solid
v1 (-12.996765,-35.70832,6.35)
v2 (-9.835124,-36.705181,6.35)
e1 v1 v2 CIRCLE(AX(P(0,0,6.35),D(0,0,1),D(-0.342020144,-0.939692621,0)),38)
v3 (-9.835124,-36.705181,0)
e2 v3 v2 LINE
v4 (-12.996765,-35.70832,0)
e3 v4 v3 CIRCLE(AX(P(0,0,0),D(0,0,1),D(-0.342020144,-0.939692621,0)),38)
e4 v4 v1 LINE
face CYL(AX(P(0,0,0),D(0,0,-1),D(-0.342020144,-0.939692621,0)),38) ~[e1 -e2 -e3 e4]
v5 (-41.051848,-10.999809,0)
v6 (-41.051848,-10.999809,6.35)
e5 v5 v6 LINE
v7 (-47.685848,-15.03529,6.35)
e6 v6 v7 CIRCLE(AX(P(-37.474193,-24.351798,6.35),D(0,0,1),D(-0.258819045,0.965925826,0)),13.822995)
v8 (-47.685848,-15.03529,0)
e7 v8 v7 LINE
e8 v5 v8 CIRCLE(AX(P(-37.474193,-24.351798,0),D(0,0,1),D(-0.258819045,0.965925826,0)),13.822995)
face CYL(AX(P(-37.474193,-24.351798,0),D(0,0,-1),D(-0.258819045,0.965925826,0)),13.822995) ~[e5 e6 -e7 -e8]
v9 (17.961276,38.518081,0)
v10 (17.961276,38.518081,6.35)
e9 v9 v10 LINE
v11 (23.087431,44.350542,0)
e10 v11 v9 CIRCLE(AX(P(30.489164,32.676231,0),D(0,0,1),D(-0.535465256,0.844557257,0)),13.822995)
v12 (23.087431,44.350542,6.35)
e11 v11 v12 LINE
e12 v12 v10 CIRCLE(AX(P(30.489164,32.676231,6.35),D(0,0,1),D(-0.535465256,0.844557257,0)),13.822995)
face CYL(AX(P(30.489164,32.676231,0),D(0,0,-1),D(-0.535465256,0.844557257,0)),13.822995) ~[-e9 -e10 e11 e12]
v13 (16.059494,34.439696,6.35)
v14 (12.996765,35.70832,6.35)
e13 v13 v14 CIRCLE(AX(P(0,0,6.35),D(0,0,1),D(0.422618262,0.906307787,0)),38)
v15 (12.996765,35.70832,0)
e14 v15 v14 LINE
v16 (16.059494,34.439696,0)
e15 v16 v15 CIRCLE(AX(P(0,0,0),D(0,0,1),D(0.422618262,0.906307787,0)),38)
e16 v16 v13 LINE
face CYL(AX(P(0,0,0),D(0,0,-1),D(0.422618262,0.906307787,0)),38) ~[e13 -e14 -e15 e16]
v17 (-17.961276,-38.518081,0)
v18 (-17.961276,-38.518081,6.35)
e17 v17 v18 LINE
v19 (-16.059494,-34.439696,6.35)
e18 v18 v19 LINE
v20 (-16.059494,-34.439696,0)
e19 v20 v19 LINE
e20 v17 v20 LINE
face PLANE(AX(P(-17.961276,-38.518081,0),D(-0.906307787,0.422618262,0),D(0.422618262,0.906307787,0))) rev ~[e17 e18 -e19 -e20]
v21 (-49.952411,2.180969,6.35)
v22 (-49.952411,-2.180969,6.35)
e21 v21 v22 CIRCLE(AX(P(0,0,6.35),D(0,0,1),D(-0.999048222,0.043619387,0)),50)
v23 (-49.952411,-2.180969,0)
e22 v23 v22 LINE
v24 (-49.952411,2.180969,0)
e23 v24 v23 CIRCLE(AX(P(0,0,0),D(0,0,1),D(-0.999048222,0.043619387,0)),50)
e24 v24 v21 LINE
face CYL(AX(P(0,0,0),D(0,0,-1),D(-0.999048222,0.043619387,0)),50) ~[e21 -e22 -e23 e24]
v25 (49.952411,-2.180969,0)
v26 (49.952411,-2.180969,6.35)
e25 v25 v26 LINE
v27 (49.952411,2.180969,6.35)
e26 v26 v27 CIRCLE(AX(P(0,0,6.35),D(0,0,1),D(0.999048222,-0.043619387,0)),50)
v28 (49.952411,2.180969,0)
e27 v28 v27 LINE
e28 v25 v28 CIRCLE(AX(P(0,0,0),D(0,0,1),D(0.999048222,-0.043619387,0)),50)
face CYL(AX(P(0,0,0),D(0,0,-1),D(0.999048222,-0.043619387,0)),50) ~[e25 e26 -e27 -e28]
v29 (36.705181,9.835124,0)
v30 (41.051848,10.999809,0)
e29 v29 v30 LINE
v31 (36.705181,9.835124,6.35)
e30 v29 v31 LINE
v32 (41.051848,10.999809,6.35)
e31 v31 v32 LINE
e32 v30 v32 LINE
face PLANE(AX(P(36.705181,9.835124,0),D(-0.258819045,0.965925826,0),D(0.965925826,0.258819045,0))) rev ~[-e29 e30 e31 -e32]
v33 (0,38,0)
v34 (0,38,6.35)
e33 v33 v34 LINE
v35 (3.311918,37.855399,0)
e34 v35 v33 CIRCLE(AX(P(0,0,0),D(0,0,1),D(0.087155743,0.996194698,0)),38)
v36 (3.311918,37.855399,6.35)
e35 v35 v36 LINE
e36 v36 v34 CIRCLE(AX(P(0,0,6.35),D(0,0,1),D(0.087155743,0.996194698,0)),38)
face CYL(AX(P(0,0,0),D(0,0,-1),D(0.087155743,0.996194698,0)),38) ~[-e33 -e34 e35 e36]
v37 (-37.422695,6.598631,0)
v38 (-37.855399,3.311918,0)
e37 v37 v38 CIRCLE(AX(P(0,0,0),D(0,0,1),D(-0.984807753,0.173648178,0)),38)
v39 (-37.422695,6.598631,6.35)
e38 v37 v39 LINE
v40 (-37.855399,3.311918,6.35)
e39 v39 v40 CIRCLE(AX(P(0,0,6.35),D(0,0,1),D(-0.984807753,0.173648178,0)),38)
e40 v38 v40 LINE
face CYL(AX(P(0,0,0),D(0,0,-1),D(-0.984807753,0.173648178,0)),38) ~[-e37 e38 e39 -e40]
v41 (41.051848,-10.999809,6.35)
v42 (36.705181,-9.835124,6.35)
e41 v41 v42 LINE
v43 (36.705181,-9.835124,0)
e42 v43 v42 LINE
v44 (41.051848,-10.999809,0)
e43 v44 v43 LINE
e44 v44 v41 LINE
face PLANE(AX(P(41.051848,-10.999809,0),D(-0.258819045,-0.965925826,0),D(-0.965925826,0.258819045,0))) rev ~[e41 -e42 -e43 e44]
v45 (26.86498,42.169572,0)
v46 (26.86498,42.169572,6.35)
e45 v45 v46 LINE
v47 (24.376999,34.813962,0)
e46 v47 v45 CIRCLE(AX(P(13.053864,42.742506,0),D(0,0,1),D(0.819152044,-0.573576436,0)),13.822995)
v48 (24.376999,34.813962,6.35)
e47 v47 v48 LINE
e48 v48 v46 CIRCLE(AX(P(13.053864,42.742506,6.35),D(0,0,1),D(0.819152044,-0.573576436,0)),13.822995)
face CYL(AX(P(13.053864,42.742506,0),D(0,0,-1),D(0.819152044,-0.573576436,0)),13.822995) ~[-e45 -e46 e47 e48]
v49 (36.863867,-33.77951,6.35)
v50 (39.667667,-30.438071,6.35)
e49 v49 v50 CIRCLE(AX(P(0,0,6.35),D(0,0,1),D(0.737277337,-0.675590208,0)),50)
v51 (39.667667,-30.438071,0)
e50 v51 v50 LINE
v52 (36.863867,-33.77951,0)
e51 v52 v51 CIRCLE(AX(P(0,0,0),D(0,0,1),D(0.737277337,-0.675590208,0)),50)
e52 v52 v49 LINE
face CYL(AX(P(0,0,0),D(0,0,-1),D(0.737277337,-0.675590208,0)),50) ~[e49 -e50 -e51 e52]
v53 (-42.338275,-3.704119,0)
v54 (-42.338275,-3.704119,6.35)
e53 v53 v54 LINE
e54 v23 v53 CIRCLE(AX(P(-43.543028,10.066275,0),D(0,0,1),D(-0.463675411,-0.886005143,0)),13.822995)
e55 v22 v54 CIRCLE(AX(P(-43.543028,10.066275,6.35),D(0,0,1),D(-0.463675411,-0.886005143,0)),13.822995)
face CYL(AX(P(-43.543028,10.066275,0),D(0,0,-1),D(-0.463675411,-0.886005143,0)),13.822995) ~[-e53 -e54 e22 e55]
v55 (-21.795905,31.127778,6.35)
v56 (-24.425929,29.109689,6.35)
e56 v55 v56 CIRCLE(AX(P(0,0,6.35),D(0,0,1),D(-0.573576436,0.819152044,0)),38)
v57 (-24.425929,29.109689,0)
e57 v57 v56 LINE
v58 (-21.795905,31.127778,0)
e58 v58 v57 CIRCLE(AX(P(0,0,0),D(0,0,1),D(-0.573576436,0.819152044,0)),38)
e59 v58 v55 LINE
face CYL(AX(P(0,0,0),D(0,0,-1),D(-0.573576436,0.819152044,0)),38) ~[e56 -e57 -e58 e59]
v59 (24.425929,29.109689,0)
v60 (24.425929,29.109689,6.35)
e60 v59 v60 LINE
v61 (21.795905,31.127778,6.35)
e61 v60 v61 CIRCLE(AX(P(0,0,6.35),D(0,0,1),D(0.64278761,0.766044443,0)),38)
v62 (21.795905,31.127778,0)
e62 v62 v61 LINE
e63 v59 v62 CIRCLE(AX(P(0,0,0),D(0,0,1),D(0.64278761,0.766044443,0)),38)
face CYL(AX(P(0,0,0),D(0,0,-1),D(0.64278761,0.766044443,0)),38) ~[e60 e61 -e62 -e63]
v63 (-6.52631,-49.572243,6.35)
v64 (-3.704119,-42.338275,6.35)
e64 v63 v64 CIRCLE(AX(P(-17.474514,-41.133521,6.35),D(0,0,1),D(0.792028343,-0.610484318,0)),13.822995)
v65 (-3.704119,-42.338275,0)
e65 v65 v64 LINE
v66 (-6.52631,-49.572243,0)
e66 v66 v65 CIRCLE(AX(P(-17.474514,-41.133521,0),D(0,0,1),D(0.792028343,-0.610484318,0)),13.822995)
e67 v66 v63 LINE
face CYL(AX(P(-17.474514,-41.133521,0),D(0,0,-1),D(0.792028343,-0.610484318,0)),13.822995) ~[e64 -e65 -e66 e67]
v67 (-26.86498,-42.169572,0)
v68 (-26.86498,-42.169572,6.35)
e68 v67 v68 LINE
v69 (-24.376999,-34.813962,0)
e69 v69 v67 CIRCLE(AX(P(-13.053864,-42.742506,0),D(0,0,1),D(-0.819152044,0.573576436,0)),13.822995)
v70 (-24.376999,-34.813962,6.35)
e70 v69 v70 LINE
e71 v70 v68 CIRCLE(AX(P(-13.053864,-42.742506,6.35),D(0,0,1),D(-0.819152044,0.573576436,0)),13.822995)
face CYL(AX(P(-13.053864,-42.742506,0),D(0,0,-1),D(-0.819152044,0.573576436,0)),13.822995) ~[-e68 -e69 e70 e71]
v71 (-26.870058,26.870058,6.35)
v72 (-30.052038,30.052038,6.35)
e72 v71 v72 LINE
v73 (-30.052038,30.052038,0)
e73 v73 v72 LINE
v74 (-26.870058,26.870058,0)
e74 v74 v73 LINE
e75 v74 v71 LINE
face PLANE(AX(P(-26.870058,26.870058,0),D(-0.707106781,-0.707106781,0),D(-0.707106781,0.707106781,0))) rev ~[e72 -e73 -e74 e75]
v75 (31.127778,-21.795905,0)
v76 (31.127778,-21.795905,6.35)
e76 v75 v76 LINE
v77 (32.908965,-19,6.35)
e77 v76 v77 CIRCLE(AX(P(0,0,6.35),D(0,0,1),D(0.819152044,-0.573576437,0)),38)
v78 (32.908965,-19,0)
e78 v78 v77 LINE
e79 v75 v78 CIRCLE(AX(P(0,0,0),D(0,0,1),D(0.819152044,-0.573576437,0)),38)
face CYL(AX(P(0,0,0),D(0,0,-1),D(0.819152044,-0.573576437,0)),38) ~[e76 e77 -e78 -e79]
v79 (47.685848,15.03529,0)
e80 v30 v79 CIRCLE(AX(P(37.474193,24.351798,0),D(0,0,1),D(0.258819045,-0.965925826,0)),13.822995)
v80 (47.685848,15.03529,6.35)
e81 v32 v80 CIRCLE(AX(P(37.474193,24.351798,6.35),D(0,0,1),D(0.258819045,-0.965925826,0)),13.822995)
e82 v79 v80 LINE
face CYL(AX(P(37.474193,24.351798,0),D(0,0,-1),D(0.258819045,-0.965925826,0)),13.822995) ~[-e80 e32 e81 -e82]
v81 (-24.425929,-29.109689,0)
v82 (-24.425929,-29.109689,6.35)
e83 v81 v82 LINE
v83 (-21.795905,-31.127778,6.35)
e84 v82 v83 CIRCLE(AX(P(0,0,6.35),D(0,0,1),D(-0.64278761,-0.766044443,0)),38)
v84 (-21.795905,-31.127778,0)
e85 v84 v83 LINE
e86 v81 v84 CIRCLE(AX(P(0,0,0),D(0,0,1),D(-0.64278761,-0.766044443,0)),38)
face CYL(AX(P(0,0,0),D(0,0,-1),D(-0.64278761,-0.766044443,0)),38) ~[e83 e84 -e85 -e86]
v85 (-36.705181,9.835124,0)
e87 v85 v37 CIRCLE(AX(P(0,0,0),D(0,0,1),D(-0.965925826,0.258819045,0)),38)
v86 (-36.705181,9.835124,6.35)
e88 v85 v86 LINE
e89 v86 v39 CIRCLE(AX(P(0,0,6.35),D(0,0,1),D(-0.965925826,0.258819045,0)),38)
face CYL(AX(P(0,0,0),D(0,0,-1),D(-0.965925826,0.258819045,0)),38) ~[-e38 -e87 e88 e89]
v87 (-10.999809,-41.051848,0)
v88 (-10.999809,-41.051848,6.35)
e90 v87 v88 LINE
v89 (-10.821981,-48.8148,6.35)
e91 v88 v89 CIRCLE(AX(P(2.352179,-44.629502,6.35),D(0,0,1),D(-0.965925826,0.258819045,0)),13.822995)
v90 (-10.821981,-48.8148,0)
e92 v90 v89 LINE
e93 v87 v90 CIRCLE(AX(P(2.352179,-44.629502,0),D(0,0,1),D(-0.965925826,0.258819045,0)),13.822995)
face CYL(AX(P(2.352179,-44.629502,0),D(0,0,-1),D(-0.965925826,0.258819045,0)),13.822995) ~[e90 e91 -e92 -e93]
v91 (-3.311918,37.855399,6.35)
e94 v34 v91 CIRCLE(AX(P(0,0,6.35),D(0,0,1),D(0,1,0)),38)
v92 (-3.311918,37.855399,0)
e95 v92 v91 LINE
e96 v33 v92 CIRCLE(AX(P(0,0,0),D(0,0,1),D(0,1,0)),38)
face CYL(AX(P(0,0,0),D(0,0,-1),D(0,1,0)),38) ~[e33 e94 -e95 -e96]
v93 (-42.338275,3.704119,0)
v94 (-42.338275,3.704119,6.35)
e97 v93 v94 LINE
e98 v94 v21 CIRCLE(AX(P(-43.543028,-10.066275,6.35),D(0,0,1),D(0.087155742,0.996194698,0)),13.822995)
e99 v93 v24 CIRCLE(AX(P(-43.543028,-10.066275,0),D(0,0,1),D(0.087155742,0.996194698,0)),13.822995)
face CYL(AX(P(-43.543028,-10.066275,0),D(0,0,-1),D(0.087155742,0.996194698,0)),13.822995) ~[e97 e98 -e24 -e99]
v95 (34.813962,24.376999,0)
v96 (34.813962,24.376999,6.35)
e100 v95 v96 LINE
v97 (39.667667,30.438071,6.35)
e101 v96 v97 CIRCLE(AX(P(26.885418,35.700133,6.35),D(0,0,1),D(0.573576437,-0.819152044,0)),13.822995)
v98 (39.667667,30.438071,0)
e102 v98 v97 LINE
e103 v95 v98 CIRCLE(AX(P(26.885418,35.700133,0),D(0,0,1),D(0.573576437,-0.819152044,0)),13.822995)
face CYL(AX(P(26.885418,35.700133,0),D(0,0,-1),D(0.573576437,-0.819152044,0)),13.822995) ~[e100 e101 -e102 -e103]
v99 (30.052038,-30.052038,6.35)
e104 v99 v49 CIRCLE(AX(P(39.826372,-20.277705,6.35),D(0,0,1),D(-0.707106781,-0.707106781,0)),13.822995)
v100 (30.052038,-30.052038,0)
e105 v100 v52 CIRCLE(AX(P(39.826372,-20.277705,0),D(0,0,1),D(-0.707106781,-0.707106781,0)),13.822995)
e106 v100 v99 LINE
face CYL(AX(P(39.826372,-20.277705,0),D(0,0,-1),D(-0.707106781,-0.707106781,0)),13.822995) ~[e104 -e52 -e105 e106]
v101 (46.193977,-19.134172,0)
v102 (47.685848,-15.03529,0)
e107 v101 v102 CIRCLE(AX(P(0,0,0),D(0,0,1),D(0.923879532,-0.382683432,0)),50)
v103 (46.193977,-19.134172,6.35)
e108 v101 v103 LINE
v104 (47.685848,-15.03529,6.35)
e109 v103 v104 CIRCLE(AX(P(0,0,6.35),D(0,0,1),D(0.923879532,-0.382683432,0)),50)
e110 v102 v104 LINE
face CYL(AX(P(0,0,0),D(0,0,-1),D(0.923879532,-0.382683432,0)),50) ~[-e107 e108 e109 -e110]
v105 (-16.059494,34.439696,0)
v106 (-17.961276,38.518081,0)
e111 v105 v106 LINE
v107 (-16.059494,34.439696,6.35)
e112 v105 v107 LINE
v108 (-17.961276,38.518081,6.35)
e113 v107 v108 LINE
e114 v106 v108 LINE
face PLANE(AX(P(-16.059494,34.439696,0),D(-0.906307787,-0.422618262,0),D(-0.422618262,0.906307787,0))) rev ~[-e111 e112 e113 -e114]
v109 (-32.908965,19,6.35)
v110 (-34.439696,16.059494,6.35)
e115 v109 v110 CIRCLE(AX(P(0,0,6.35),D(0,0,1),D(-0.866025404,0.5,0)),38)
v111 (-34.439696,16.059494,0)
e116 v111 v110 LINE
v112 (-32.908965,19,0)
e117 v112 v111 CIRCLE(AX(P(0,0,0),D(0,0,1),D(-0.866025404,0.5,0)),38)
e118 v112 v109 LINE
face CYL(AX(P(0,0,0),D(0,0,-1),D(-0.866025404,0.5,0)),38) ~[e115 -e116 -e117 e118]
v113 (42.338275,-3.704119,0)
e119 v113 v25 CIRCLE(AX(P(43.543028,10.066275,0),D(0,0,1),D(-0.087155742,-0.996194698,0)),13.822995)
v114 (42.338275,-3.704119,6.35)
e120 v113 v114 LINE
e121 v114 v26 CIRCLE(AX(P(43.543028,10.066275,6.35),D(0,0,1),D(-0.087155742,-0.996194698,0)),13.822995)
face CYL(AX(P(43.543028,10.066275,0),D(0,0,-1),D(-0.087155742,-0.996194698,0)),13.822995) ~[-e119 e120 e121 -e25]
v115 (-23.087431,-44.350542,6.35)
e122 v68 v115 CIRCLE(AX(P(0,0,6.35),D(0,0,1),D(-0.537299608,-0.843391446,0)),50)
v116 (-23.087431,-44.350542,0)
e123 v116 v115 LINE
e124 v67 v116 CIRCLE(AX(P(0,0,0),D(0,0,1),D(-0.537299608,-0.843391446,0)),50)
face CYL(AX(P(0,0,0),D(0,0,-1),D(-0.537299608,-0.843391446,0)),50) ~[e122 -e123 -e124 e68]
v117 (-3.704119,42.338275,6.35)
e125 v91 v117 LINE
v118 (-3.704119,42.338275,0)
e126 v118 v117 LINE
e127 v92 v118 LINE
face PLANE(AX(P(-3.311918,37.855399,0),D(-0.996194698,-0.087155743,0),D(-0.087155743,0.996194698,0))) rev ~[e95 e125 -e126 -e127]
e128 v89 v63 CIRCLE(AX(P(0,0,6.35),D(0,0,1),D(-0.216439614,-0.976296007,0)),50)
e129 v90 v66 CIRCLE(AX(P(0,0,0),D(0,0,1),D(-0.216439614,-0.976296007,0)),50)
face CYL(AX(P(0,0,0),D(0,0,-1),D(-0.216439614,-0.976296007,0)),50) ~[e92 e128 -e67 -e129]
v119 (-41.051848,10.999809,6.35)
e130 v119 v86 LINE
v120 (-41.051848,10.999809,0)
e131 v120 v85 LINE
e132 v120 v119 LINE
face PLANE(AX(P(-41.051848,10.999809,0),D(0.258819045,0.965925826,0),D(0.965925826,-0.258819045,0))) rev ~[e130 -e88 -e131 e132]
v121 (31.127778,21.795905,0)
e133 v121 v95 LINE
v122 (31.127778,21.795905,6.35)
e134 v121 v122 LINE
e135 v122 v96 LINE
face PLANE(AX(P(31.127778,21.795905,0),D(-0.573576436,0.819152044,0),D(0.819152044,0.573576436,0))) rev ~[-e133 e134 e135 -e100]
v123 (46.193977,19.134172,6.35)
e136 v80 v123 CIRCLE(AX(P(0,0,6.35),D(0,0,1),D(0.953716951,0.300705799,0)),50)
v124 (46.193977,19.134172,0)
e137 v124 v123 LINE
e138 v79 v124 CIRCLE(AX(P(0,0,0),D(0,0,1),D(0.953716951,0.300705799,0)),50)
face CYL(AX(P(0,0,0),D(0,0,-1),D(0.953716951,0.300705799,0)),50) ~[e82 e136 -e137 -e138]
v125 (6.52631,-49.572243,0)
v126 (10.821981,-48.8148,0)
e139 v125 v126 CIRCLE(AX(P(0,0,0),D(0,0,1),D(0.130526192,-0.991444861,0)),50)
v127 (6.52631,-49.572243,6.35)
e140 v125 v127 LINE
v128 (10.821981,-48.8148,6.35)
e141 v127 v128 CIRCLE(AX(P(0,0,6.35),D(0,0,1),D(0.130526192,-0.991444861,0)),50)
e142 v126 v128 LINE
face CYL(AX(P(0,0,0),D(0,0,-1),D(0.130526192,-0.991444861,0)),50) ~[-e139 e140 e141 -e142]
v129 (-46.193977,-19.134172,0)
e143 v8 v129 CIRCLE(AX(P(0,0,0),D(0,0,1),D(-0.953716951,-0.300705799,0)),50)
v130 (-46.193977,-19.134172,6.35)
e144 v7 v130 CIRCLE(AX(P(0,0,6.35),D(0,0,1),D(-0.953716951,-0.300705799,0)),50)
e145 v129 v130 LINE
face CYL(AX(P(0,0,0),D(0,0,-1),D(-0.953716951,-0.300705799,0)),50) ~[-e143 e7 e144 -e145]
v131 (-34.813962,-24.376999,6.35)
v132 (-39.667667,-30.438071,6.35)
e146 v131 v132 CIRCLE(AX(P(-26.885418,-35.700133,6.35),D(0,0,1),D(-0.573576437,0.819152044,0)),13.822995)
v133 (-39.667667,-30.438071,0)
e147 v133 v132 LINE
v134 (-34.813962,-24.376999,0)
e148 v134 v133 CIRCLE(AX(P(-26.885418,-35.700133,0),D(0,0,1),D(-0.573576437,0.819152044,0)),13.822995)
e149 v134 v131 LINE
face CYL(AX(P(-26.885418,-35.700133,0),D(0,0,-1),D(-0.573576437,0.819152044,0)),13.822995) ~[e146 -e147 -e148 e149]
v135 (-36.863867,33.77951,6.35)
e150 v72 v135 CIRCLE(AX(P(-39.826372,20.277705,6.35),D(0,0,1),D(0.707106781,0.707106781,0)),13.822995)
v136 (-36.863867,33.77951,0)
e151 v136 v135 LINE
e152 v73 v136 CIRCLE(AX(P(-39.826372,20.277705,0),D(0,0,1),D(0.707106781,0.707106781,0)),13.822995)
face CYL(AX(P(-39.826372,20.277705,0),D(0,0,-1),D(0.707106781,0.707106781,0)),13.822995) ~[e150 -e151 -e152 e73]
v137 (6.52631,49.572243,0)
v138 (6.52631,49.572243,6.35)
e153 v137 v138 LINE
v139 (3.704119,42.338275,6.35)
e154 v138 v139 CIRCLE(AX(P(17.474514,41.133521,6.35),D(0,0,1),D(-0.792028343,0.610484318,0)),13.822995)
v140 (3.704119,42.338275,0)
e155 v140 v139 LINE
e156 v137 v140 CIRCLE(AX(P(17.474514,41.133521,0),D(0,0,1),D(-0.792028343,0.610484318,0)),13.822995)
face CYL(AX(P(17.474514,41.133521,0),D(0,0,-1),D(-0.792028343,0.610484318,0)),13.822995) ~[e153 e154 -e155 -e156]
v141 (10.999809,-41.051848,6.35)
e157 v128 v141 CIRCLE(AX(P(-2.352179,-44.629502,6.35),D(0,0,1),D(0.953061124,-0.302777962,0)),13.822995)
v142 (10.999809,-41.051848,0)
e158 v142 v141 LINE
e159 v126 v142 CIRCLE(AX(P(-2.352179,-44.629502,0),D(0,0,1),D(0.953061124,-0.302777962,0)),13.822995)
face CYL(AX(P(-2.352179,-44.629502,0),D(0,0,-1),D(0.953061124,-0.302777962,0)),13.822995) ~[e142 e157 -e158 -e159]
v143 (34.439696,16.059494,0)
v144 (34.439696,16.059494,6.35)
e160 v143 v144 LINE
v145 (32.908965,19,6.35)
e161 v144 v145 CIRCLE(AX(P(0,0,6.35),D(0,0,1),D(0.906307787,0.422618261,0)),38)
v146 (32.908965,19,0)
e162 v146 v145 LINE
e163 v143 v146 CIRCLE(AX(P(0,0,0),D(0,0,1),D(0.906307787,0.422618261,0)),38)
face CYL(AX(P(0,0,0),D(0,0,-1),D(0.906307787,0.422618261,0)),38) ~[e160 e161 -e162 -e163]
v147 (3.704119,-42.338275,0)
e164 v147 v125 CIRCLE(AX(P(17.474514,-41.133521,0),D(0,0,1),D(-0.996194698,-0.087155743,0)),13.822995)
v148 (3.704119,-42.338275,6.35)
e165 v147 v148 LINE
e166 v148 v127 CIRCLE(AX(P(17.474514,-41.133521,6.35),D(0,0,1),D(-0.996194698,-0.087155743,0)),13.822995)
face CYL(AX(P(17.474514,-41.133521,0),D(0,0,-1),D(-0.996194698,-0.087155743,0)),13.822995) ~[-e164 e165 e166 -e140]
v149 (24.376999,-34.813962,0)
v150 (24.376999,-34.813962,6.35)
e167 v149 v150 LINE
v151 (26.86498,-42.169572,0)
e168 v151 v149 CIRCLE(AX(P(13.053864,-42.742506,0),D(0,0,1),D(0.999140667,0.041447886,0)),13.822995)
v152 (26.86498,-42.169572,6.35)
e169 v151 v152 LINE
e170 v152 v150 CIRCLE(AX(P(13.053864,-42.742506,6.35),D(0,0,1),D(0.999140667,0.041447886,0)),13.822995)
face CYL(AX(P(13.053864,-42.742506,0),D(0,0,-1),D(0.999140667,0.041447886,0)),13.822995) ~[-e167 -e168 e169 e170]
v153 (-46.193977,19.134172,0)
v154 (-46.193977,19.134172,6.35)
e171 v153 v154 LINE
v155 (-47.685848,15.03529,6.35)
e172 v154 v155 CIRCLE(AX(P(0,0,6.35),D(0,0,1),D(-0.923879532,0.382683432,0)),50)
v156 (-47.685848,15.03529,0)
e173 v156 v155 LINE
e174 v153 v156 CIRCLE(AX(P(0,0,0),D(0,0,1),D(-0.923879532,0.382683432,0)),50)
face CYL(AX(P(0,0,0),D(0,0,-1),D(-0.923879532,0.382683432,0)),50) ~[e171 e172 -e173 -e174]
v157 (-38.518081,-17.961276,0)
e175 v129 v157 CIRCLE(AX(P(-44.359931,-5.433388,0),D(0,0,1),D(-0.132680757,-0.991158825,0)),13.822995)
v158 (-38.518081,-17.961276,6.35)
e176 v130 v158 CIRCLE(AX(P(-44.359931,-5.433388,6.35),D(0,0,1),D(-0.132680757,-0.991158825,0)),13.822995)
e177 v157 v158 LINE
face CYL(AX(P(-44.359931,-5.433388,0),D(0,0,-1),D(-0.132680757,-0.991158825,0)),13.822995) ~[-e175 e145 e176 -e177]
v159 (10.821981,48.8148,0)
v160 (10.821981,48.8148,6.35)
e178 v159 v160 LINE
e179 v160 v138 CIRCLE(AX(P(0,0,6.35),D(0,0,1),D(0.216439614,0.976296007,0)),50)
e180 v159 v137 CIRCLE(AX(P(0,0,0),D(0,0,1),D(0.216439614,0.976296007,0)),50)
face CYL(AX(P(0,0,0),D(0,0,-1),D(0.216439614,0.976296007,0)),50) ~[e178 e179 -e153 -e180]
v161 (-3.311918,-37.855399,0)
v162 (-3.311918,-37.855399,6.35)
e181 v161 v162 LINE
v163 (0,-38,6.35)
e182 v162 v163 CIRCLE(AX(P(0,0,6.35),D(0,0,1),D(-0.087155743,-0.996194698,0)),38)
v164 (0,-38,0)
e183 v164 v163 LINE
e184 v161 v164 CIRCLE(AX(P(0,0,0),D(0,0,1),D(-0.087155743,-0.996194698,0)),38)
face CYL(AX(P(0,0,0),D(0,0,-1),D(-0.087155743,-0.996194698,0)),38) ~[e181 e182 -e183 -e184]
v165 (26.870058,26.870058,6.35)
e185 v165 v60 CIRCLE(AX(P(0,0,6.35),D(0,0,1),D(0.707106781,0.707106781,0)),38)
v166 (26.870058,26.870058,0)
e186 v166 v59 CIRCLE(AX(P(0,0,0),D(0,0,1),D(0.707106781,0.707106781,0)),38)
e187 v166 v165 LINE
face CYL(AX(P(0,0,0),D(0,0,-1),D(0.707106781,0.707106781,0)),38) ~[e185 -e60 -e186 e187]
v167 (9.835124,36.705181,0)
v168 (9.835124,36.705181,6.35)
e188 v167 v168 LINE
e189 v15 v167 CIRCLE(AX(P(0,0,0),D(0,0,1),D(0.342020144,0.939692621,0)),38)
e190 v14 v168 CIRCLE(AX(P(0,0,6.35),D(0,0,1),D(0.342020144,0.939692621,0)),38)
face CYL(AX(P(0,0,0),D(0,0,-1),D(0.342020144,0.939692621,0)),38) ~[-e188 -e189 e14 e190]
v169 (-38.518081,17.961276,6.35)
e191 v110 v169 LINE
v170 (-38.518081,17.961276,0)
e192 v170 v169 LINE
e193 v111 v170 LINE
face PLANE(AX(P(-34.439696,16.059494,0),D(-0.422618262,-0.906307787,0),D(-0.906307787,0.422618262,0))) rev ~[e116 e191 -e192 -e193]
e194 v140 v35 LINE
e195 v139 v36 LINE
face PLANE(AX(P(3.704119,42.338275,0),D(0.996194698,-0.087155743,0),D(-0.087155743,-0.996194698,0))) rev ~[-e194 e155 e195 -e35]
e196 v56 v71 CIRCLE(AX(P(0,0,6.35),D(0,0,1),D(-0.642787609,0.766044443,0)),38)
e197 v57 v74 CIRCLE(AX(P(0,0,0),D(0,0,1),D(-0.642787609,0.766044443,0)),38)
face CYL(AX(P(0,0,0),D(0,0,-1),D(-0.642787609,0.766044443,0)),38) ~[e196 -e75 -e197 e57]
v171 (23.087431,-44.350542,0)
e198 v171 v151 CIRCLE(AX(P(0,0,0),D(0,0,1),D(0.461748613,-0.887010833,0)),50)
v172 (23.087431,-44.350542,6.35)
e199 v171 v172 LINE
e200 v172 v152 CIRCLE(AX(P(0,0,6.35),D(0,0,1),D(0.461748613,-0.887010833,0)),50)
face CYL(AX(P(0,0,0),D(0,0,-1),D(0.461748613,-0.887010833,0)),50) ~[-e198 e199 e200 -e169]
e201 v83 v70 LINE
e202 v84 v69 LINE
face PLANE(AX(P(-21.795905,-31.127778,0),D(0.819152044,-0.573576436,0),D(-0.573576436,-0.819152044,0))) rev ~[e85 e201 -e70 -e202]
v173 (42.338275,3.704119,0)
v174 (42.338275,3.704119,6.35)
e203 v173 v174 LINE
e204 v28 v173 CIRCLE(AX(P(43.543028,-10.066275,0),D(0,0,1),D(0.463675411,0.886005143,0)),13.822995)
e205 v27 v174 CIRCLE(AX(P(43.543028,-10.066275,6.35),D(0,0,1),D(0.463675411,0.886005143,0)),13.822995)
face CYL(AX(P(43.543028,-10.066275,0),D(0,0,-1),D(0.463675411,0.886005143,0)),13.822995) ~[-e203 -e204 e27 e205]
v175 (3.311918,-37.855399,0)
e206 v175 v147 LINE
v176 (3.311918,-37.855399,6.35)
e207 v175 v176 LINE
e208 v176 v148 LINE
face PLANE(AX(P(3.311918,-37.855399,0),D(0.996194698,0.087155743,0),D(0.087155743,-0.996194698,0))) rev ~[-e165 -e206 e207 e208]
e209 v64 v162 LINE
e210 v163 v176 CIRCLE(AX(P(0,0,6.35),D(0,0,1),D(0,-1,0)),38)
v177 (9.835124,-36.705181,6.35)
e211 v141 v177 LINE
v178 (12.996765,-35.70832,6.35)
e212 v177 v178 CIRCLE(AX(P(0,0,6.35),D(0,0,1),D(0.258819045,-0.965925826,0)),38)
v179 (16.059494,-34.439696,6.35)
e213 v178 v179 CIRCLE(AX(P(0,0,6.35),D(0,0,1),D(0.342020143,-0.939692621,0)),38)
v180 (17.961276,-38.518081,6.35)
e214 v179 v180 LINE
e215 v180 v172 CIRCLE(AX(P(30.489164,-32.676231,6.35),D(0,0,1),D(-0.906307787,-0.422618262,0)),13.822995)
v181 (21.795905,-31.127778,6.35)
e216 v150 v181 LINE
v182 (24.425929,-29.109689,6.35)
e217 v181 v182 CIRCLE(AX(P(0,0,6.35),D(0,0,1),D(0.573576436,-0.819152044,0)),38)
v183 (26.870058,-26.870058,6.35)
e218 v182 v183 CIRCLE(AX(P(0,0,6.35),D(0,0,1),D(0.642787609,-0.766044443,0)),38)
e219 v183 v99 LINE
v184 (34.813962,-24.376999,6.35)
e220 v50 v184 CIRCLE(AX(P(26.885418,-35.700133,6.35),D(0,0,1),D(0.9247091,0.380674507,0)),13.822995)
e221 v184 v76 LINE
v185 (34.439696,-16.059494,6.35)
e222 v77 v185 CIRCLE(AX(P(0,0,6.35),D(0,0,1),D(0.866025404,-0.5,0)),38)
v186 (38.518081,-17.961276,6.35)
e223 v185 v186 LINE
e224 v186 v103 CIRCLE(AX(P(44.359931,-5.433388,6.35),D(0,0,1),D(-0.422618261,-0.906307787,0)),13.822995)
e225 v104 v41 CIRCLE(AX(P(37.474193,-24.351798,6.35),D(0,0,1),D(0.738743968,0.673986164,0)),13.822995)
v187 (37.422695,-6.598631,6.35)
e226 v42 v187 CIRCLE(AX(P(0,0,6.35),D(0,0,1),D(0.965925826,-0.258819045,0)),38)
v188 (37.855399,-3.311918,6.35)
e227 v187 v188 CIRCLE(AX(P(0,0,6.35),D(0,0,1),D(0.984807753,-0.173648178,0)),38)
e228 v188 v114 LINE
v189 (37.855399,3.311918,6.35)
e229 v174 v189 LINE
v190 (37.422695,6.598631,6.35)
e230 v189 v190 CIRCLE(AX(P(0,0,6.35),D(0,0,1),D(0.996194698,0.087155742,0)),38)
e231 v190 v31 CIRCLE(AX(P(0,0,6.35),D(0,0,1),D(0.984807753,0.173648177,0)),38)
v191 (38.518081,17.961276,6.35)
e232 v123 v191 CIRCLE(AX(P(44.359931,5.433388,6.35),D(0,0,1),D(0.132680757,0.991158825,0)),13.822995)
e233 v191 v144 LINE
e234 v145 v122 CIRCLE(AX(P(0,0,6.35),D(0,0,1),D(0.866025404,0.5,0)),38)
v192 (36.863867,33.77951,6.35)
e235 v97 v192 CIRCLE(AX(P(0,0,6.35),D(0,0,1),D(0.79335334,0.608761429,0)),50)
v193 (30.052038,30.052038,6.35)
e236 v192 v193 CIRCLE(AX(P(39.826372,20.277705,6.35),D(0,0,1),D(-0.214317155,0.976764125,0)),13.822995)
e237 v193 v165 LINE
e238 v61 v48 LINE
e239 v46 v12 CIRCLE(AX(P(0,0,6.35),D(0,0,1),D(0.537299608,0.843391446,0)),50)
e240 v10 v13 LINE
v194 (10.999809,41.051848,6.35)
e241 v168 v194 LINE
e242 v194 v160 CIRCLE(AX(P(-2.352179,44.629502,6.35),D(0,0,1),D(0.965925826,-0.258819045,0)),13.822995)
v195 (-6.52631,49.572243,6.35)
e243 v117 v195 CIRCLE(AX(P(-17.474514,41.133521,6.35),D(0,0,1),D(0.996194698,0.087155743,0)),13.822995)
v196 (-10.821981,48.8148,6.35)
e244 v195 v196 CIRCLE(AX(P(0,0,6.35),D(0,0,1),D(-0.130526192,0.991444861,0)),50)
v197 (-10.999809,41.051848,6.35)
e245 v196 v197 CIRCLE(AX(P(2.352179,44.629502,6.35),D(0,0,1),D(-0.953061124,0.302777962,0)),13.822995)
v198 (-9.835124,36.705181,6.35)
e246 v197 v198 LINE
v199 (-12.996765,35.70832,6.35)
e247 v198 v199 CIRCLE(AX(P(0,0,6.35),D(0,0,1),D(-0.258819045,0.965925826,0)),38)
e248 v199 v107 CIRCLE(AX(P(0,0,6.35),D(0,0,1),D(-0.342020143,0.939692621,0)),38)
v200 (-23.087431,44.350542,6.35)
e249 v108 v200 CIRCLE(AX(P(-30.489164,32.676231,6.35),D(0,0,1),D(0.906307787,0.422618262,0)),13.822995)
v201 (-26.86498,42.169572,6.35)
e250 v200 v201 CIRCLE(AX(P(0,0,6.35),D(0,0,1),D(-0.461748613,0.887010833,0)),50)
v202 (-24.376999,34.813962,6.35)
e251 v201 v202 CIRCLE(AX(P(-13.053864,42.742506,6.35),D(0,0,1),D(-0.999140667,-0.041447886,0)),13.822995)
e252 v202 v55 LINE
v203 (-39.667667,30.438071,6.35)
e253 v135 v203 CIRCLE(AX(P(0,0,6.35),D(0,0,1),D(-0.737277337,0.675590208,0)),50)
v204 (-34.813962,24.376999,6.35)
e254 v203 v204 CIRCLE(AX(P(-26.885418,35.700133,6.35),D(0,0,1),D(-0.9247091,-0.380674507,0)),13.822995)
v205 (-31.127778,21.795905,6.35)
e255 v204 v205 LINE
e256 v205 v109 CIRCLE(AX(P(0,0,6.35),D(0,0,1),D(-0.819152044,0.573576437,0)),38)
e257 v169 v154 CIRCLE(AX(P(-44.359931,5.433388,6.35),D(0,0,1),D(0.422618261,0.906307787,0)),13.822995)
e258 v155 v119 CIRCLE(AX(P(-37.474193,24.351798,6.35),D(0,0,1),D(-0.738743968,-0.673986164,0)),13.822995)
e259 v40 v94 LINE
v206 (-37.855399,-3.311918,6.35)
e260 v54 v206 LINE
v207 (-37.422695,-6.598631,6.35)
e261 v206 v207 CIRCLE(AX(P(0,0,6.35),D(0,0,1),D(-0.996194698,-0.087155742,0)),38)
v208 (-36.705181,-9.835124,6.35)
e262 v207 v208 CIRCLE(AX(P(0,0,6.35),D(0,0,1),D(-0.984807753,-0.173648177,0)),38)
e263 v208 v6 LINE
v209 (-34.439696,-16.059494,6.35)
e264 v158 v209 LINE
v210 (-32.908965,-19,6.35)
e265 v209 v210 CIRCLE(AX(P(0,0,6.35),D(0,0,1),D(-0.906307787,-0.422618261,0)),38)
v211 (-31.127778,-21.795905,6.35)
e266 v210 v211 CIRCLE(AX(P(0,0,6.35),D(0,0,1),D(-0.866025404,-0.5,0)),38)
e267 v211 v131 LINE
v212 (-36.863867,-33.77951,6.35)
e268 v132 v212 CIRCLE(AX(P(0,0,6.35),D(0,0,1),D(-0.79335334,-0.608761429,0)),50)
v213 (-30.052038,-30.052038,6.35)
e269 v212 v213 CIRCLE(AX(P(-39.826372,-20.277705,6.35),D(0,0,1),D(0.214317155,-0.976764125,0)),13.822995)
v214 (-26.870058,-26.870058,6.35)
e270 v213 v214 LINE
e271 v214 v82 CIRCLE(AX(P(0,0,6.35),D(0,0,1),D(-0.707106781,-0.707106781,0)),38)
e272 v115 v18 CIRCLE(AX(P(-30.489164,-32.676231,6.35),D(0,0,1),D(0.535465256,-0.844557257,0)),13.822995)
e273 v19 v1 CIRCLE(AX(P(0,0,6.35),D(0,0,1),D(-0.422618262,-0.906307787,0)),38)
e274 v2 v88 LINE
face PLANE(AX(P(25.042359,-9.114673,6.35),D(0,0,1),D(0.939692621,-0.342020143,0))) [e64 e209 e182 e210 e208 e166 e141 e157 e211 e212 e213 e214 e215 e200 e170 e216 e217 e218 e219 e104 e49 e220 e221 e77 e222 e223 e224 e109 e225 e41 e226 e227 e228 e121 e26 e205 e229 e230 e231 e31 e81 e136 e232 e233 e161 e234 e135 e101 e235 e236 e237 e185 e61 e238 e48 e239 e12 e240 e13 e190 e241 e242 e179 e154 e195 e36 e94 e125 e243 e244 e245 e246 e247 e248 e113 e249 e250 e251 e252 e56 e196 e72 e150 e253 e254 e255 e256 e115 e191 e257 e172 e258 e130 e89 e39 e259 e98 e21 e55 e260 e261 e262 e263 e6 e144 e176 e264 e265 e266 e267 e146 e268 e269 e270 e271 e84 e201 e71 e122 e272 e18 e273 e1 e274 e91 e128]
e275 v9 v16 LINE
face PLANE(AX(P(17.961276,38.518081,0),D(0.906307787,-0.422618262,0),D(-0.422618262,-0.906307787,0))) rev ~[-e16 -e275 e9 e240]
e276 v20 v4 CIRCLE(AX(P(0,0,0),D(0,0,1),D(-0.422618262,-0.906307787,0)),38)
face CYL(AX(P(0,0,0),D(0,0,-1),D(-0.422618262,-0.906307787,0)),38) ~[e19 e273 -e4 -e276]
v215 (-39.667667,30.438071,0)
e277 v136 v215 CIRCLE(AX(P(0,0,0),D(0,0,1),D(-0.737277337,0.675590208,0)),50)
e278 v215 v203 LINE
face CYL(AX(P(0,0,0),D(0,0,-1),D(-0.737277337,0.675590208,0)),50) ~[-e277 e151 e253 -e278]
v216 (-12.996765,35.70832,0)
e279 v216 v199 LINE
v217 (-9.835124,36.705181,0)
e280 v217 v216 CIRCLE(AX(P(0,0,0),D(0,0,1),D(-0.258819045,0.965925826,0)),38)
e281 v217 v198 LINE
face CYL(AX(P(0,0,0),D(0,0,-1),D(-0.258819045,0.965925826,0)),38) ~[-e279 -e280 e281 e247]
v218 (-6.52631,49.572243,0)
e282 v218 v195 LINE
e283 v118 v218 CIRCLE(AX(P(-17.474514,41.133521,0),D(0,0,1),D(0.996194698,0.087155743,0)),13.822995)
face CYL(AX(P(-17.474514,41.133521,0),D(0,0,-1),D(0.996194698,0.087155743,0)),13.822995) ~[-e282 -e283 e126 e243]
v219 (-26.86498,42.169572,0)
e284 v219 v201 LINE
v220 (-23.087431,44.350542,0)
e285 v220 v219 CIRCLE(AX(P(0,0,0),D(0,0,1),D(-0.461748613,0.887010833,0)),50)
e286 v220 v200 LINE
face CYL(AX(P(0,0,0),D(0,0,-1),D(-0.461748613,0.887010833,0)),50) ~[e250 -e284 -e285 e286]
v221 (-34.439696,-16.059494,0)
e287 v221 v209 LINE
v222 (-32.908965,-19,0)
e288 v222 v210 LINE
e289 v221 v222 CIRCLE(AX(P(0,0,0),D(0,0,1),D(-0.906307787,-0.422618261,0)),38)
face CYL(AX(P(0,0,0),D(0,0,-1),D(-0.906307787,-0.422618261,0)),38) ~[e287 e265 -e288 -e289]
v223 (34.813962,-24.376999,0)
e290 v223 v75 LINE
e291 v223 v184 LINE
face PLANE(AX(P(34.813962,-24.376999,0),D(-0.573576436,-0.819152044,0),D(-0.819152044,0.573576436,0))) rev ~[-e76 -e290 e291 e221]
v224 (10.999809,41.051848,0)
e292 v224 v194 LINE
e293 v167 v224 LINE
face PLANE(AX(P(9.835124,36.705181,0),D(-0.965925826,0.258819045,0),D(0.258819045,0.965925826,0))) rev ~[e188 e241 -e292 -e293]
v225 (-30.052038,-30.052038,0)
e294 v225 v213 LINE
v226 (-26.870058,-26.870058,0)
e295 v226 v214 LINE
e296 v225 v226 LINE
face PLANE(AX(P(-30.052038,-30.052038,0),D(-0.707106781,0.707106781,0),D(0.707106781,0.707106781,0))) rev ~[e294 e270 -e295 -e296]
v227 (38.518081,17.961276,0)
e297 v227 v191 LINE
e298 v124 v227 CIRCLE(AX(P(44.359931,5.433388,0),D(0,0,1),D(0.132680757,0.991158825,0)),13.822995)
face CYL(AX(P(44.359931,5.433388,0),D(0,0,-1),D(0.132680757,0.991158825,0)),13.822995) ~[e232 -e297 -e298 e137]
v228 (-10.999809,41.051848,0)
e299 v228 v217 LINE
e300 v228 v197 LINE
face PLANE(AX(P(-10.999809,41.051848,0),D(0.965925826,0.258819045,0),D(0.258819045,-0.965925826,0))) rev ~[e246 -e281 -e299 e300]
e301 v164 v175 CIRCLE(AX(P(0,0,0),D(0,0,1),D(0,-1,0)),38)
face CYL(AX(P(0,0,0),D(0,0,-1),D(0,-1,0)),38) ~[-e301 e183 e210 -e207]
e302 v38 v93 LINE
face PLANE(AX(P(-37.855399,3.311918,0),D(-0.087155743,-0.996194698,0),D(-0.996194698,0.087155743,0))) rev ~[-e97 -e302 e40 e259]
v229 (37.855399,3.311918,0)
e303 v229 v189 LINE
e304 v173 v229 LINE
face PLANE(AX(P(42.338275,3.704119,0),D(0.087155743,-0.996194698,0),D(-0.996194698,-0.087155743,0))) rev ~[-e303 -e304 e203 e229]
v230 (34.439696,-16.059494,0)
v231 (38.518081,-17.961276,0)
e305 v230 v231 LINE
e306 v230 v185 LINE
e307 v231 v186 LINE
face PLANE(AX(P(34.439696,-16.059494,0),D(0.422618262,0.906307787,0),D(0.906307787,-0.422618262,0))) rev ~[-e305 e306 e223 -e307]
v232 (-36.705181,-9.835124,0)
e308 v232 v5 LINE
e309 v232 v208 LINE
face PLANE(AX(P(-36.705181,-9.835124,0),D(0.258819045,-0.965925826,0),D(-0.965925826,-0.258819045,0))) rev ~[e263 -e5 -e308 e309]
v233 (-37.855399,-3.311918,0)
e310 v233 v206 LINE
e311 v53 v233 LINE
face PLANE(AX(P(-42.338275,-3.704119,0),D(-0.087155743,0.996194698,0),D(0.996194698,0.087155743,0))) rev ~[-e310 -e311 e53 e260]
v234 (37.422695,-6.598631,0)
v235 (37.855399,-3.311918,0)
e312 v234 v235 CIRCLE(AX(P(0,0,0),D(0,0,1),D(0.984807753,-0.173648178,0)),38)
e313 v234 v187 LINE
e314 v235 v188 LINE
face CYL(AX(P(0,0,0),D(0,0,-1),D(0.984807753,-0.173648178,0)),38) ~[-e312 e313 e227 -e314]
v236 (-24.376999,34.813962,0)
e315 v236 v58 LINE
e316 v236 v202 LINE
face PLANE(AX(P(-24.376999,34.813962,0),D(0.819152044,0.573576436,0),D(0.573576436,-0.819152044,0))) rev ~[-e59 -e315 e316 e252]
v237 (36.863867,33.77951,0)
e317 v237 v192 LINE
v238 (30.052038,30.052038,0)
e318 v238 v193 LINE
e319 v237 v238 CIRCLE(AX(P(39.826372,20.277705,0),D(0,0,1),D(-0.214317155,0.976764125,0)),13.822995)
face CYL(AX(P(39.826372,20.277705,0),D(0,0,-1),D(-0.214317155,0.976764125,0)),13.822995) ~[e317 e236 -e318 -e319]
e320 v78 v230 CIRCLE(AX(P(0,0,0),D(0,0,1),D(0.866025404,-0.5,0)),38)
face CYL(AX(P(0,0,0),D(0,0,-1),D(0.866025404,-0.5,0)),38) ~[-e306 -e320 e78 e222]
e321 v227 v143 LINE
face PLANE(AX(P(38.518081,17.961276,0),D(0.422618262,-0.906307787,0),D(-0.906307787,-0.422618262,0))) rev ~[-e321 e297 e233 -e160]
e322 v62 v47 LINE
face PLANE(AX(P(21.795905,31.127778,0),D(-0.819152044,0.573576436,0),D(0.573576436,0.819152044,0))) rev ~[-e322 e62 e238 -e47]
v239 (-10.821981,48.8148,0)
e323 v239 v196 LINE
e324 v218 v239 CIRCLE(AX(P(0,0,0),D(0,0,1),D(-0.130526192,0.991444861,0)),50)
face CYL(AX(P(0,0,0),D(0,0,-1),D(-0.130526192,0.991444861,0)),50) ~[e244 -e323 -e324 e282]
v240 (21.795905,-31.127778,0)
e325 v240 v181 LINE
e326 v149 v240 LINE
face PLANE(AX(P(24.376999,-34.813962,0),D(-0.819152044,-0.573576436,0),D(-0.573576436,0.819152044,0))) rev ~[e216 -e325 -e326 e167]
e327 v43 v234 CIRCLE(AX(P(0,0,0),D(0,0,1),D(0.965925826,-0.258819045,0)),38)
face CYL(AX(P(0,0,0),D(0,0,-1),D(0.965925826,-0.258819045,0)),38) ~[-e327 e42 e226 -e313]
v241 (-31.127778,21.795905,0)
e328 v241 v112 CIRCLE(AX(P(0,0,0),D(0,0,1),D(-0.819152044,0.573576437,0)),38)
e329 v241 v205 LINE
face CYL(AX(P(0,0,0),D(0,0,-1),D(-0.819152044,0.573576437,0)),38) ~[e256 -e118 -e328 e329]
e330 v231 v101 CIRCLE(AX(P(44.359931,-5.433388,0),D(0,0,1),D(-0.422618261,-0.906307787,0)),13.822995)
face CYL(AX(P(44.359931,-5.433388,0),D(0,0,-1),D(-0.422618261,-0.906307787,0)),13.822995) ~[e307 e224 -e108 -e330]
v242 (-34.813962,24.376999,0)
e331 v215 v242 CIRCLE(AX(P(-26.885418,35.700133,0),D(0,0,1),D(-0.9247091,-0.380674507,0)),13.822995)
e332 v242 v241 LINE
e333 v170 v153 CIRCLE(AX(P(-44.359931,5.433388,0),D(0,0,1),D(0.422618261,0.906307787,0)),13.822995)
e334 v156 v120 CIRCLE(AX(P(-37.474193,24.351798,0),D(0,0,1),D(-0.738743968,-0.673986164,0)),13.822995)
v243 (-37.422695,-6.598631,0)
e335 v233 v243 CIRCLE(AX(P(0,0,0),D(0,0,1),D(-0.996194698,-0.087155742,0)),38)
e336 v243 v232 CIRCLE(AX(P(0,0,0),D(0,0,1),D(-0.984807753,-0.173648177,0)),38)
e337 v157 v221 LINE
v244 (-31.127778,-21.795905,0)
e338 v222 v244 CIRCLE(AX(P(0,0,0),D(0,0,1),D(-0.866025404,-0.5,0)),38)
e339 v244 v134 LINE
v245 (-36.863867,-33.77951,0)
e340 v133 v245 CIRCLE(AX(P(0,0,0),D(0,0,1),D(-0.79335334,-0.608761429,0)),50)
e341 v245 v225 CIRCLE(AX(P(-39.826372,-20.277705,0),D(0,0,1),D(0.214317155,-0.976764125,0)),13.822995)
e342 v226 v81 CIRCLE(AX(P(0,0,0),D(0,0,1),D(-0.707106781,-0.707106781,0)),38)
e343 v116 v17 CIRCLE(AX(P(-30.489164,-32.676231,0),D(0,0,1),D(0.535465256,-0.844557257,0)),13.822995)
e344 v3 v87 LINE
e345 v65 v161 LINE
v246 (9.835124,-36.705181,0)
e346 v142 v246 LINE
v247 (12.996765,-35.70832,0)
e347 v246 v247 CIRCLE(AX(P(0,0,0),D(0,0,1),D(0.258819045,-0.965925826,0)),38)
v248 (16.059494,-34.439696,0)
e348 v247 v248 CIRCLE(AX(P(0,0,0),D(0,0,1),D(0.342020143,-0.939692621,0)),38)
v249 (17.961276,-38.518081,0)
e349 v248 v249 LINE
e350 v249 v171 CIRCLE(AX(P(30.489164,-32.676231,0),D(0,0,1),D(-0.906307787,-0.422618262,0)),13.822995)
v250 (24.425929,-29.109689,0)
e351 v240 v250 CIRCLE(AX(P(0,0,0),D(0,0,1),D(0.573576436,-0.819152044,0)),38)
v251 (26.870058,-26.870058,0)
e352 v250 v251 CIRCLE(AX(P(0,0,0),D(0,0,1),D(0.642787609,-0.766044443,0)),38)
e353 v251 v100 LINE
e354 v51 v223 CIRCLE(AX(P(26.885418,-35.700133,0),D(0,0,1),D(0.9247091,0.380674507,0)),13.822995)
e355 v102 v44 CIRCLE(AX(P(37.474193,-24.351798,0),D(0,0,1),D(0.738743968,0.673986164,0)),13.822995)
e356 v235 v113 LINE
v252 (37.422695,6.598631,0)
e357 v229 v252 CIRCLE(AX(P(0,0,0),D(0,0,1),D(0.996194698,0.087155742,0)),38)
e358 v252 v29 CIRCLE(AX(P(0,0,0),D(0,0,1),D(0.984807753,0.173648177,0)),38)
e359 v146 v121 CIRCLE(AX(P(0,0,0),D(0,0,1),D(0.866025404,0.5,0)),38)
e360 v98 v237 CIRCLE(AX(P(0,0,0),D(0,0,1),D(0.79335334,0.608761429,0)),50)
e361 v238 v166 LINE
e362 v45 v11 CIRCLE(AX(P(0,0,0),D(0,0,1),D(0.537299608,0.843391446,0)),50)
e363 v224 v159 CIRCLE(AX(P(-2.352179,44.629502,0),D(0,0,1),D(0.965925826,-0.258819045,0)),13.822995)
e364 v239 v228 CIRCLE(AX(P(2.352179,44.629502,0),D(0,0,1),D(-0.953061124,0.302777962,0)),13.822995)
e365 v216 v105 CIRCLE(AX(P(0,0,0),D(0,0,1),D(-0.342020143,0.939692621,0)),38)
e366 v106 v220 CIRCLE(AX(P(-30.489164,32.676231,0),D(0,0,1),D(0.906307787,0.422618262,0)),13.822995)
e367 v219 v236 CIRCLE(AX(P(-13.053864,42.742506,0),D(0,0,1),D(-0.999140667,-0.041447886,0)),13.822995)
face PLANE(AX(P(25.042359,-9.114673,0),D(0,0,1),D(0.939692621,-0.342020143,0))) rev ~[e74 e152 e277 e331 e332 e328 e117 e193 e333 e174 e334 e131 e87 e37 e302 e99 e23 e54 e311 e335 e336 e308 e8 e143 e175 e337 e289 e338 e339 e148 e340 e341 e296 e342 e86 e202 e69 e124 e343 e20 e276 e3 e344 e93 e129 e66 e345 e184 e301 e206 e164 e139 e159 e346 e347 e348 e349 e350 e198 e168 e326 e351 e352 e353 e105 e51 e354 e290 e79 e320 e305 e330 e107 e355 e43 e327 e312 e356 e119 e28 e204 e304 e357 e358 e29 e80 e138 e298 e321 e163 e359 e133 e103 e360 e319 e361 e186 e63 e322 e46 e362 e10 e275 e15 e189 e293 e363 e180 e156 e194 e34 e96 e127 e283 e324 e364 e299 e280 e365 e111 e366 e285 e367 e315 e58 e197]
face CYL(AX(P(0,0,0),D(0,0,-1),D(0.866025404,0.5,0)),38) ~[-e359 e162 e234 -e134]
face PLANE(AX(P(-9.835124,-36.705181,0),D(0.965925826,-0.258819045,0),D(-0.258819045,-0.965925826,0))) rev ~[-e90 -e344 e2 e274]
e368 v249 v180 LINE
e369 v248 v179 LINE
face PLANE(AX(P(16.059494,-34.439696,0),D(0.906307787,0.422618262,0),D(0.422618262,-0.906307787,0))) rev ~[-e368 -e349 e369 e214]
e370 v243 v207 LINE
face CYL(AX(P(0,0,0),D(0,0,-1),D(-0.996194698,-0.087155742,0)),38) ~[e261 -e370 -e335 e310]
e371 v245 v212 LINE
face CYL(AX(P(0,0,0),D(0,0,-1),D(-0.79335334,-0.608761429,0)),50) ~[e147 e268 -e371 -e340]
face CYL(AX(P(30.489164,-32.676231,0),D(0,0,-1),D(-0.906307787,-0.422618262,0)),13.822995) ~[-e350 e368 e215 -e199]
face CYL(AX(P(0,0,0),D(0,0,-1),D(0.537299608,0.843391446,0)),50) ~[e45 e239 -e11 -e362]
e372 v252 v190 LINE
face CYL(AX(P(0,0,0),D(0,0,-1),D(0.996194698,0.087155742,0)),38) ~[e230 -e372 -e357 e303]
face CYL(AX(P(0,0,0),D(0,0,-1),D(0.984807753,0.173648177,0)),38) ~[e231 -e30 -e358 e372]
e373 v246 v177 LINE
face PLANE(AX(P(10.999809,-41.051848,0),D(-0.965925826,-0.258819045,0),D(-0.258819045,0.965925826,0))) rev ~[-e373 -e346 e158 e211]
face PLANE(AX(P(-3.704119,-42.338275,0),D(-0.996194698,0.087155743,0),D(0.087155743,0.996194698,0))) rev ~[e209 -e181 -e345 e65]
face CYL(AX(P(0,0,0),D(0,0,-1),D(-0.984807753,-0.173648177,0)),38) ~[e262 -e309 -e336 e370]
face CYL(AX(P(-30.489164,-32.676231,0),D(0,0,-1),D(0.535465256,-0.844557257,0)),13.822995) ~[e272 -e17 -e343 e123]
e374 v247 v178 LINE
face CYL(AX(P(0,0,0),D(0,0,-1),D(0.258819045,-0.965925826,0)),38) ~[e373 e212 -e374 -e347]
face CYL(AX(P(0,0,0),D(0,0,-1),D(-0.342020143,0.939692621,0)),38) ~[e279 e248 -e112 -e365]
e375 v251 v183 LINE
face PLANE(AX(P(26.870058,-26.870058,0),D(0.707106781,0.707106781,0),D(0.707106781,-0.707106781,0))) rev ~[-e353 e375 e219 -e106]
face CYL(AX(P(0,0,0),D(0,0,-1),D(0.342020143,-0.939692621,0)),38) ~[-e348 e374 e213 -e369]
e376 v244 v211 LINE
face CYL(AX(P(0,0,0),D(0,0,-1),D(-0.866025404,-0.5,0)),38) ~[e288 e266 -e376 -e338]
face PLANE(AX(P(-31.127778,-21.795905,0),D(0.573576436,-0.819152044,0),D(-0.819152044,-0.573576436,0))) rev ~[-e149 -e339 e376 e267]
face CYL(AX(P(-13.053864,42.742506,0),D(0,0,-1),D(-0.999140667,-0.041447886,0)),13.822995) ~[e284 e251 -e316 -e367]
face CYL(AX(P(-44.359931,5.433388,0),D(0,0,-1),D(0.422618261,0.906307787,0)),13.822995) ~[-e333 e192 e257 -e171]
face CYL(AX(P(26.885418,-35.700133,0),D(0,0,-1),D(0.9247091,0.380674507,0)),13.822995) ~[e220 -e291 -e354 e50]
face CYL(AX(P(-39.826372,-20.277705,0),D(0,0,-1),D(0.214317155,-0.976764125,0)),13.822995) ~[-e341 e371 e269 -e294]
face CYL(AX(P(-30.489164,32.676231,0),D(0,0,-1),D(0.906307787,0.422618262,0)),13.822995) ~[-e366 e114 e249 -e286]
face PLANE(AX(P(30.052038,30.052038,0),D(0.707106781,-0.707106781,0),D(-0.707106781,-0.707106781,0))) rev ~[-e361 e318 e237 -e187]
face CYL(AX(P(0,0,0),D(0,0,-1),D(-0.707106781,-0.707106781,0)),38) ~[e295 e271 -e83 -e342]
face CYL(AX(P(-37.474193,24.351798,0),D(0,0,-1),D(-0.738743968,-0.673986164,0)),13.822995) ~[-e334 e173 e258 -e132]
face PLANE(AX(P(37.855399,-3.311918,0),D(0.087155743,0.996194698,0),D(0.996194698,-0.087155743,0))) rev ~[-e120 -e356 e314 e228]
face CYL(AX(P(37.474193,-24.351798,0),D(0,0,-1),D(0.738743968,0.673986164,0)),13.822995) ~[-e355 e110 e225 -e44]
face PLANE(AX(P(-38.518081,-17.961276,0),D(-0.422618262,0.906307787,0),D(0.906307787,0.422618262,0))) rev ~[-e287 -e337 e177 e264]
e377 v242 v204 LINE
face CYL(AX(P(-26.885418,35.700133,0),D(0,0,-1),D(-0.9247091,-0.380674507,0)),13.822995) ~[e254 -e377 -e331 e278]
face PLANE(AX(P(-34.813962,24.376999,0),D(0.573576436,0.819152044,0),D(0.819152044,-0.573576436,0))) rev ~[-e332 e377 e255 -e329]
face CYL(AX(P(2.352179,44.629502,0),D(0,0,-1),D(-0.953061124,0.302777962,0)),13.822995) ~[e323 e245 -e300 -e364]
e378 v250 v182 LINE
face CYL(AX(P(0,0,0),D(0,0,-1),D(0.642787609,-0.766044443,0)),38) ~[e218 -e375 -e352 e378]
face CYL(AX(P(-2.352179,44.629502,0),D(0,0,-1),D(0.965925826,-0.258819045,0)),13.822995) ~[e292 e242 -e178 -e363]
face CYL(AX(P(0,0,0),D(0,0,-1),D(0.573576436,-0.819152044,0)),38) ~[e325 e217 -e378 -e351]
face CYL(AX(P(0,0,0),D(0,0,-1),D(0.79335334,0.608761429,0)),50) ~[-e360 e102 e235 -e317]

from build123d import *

# Parameters (mm, degrees)
BOSS_EXTRUDE2_DEPTH = 6.35
CIRPATTERN1_COUNT   = 18


with BuildPart() as part:
    # Sketch4 → Boss-Extrude2 (new body)
    with BuildSketch(Plane.XY):
        with BuildLine():
            Line((42.338274669, 3.704119067), (37.855398527, 3.311918224))
            ThreePointArc((37.855398527, 3.311918224), (37.674904732, 4.959995304), (37.422694614, 6.598630751))
            Line((37.422694614, 6.598630751), (0, 0))
            Line((0, 0), (37.422694614, -6.598630751))
            ThreePointArc((37.422694614, -6.598630751), (37.674904732, -4.959995304), (37.855398527, -3.311918224))
            Line((37.855398527, -3.311918224), (42.338274669, -3.704119067))
            ThreePointArc((42.338274669, -3.704119067), (46.254492359, -3.488176122), (49.952411079, -2.180969368))
            ThreePointArc((49.952411079, -2.180969368), (50, 0), (49.952411079, 2.180969368))
            ThreePointArc((49.952411079, 2.180969368), (46.254492359, 3.488176122), (42.338274669, 3.704119067))
        make_face()
    boss_extrude2 = extrude(amount=BOSS_EXTRUDE2_DEPTH)

    # CirPattern1: Boss-Extrude2 ×18 about axis
    cirpattern1_axis = Axis((0, 0, 0), (0, 0, 1))
    for i in range(1, CIRPATTERN1_COUNT):
        add(boss_extrude2.rotate(cirpattern1_axis, i * 360 / CIRPATTERN1_COUNT))


solid = part.part
